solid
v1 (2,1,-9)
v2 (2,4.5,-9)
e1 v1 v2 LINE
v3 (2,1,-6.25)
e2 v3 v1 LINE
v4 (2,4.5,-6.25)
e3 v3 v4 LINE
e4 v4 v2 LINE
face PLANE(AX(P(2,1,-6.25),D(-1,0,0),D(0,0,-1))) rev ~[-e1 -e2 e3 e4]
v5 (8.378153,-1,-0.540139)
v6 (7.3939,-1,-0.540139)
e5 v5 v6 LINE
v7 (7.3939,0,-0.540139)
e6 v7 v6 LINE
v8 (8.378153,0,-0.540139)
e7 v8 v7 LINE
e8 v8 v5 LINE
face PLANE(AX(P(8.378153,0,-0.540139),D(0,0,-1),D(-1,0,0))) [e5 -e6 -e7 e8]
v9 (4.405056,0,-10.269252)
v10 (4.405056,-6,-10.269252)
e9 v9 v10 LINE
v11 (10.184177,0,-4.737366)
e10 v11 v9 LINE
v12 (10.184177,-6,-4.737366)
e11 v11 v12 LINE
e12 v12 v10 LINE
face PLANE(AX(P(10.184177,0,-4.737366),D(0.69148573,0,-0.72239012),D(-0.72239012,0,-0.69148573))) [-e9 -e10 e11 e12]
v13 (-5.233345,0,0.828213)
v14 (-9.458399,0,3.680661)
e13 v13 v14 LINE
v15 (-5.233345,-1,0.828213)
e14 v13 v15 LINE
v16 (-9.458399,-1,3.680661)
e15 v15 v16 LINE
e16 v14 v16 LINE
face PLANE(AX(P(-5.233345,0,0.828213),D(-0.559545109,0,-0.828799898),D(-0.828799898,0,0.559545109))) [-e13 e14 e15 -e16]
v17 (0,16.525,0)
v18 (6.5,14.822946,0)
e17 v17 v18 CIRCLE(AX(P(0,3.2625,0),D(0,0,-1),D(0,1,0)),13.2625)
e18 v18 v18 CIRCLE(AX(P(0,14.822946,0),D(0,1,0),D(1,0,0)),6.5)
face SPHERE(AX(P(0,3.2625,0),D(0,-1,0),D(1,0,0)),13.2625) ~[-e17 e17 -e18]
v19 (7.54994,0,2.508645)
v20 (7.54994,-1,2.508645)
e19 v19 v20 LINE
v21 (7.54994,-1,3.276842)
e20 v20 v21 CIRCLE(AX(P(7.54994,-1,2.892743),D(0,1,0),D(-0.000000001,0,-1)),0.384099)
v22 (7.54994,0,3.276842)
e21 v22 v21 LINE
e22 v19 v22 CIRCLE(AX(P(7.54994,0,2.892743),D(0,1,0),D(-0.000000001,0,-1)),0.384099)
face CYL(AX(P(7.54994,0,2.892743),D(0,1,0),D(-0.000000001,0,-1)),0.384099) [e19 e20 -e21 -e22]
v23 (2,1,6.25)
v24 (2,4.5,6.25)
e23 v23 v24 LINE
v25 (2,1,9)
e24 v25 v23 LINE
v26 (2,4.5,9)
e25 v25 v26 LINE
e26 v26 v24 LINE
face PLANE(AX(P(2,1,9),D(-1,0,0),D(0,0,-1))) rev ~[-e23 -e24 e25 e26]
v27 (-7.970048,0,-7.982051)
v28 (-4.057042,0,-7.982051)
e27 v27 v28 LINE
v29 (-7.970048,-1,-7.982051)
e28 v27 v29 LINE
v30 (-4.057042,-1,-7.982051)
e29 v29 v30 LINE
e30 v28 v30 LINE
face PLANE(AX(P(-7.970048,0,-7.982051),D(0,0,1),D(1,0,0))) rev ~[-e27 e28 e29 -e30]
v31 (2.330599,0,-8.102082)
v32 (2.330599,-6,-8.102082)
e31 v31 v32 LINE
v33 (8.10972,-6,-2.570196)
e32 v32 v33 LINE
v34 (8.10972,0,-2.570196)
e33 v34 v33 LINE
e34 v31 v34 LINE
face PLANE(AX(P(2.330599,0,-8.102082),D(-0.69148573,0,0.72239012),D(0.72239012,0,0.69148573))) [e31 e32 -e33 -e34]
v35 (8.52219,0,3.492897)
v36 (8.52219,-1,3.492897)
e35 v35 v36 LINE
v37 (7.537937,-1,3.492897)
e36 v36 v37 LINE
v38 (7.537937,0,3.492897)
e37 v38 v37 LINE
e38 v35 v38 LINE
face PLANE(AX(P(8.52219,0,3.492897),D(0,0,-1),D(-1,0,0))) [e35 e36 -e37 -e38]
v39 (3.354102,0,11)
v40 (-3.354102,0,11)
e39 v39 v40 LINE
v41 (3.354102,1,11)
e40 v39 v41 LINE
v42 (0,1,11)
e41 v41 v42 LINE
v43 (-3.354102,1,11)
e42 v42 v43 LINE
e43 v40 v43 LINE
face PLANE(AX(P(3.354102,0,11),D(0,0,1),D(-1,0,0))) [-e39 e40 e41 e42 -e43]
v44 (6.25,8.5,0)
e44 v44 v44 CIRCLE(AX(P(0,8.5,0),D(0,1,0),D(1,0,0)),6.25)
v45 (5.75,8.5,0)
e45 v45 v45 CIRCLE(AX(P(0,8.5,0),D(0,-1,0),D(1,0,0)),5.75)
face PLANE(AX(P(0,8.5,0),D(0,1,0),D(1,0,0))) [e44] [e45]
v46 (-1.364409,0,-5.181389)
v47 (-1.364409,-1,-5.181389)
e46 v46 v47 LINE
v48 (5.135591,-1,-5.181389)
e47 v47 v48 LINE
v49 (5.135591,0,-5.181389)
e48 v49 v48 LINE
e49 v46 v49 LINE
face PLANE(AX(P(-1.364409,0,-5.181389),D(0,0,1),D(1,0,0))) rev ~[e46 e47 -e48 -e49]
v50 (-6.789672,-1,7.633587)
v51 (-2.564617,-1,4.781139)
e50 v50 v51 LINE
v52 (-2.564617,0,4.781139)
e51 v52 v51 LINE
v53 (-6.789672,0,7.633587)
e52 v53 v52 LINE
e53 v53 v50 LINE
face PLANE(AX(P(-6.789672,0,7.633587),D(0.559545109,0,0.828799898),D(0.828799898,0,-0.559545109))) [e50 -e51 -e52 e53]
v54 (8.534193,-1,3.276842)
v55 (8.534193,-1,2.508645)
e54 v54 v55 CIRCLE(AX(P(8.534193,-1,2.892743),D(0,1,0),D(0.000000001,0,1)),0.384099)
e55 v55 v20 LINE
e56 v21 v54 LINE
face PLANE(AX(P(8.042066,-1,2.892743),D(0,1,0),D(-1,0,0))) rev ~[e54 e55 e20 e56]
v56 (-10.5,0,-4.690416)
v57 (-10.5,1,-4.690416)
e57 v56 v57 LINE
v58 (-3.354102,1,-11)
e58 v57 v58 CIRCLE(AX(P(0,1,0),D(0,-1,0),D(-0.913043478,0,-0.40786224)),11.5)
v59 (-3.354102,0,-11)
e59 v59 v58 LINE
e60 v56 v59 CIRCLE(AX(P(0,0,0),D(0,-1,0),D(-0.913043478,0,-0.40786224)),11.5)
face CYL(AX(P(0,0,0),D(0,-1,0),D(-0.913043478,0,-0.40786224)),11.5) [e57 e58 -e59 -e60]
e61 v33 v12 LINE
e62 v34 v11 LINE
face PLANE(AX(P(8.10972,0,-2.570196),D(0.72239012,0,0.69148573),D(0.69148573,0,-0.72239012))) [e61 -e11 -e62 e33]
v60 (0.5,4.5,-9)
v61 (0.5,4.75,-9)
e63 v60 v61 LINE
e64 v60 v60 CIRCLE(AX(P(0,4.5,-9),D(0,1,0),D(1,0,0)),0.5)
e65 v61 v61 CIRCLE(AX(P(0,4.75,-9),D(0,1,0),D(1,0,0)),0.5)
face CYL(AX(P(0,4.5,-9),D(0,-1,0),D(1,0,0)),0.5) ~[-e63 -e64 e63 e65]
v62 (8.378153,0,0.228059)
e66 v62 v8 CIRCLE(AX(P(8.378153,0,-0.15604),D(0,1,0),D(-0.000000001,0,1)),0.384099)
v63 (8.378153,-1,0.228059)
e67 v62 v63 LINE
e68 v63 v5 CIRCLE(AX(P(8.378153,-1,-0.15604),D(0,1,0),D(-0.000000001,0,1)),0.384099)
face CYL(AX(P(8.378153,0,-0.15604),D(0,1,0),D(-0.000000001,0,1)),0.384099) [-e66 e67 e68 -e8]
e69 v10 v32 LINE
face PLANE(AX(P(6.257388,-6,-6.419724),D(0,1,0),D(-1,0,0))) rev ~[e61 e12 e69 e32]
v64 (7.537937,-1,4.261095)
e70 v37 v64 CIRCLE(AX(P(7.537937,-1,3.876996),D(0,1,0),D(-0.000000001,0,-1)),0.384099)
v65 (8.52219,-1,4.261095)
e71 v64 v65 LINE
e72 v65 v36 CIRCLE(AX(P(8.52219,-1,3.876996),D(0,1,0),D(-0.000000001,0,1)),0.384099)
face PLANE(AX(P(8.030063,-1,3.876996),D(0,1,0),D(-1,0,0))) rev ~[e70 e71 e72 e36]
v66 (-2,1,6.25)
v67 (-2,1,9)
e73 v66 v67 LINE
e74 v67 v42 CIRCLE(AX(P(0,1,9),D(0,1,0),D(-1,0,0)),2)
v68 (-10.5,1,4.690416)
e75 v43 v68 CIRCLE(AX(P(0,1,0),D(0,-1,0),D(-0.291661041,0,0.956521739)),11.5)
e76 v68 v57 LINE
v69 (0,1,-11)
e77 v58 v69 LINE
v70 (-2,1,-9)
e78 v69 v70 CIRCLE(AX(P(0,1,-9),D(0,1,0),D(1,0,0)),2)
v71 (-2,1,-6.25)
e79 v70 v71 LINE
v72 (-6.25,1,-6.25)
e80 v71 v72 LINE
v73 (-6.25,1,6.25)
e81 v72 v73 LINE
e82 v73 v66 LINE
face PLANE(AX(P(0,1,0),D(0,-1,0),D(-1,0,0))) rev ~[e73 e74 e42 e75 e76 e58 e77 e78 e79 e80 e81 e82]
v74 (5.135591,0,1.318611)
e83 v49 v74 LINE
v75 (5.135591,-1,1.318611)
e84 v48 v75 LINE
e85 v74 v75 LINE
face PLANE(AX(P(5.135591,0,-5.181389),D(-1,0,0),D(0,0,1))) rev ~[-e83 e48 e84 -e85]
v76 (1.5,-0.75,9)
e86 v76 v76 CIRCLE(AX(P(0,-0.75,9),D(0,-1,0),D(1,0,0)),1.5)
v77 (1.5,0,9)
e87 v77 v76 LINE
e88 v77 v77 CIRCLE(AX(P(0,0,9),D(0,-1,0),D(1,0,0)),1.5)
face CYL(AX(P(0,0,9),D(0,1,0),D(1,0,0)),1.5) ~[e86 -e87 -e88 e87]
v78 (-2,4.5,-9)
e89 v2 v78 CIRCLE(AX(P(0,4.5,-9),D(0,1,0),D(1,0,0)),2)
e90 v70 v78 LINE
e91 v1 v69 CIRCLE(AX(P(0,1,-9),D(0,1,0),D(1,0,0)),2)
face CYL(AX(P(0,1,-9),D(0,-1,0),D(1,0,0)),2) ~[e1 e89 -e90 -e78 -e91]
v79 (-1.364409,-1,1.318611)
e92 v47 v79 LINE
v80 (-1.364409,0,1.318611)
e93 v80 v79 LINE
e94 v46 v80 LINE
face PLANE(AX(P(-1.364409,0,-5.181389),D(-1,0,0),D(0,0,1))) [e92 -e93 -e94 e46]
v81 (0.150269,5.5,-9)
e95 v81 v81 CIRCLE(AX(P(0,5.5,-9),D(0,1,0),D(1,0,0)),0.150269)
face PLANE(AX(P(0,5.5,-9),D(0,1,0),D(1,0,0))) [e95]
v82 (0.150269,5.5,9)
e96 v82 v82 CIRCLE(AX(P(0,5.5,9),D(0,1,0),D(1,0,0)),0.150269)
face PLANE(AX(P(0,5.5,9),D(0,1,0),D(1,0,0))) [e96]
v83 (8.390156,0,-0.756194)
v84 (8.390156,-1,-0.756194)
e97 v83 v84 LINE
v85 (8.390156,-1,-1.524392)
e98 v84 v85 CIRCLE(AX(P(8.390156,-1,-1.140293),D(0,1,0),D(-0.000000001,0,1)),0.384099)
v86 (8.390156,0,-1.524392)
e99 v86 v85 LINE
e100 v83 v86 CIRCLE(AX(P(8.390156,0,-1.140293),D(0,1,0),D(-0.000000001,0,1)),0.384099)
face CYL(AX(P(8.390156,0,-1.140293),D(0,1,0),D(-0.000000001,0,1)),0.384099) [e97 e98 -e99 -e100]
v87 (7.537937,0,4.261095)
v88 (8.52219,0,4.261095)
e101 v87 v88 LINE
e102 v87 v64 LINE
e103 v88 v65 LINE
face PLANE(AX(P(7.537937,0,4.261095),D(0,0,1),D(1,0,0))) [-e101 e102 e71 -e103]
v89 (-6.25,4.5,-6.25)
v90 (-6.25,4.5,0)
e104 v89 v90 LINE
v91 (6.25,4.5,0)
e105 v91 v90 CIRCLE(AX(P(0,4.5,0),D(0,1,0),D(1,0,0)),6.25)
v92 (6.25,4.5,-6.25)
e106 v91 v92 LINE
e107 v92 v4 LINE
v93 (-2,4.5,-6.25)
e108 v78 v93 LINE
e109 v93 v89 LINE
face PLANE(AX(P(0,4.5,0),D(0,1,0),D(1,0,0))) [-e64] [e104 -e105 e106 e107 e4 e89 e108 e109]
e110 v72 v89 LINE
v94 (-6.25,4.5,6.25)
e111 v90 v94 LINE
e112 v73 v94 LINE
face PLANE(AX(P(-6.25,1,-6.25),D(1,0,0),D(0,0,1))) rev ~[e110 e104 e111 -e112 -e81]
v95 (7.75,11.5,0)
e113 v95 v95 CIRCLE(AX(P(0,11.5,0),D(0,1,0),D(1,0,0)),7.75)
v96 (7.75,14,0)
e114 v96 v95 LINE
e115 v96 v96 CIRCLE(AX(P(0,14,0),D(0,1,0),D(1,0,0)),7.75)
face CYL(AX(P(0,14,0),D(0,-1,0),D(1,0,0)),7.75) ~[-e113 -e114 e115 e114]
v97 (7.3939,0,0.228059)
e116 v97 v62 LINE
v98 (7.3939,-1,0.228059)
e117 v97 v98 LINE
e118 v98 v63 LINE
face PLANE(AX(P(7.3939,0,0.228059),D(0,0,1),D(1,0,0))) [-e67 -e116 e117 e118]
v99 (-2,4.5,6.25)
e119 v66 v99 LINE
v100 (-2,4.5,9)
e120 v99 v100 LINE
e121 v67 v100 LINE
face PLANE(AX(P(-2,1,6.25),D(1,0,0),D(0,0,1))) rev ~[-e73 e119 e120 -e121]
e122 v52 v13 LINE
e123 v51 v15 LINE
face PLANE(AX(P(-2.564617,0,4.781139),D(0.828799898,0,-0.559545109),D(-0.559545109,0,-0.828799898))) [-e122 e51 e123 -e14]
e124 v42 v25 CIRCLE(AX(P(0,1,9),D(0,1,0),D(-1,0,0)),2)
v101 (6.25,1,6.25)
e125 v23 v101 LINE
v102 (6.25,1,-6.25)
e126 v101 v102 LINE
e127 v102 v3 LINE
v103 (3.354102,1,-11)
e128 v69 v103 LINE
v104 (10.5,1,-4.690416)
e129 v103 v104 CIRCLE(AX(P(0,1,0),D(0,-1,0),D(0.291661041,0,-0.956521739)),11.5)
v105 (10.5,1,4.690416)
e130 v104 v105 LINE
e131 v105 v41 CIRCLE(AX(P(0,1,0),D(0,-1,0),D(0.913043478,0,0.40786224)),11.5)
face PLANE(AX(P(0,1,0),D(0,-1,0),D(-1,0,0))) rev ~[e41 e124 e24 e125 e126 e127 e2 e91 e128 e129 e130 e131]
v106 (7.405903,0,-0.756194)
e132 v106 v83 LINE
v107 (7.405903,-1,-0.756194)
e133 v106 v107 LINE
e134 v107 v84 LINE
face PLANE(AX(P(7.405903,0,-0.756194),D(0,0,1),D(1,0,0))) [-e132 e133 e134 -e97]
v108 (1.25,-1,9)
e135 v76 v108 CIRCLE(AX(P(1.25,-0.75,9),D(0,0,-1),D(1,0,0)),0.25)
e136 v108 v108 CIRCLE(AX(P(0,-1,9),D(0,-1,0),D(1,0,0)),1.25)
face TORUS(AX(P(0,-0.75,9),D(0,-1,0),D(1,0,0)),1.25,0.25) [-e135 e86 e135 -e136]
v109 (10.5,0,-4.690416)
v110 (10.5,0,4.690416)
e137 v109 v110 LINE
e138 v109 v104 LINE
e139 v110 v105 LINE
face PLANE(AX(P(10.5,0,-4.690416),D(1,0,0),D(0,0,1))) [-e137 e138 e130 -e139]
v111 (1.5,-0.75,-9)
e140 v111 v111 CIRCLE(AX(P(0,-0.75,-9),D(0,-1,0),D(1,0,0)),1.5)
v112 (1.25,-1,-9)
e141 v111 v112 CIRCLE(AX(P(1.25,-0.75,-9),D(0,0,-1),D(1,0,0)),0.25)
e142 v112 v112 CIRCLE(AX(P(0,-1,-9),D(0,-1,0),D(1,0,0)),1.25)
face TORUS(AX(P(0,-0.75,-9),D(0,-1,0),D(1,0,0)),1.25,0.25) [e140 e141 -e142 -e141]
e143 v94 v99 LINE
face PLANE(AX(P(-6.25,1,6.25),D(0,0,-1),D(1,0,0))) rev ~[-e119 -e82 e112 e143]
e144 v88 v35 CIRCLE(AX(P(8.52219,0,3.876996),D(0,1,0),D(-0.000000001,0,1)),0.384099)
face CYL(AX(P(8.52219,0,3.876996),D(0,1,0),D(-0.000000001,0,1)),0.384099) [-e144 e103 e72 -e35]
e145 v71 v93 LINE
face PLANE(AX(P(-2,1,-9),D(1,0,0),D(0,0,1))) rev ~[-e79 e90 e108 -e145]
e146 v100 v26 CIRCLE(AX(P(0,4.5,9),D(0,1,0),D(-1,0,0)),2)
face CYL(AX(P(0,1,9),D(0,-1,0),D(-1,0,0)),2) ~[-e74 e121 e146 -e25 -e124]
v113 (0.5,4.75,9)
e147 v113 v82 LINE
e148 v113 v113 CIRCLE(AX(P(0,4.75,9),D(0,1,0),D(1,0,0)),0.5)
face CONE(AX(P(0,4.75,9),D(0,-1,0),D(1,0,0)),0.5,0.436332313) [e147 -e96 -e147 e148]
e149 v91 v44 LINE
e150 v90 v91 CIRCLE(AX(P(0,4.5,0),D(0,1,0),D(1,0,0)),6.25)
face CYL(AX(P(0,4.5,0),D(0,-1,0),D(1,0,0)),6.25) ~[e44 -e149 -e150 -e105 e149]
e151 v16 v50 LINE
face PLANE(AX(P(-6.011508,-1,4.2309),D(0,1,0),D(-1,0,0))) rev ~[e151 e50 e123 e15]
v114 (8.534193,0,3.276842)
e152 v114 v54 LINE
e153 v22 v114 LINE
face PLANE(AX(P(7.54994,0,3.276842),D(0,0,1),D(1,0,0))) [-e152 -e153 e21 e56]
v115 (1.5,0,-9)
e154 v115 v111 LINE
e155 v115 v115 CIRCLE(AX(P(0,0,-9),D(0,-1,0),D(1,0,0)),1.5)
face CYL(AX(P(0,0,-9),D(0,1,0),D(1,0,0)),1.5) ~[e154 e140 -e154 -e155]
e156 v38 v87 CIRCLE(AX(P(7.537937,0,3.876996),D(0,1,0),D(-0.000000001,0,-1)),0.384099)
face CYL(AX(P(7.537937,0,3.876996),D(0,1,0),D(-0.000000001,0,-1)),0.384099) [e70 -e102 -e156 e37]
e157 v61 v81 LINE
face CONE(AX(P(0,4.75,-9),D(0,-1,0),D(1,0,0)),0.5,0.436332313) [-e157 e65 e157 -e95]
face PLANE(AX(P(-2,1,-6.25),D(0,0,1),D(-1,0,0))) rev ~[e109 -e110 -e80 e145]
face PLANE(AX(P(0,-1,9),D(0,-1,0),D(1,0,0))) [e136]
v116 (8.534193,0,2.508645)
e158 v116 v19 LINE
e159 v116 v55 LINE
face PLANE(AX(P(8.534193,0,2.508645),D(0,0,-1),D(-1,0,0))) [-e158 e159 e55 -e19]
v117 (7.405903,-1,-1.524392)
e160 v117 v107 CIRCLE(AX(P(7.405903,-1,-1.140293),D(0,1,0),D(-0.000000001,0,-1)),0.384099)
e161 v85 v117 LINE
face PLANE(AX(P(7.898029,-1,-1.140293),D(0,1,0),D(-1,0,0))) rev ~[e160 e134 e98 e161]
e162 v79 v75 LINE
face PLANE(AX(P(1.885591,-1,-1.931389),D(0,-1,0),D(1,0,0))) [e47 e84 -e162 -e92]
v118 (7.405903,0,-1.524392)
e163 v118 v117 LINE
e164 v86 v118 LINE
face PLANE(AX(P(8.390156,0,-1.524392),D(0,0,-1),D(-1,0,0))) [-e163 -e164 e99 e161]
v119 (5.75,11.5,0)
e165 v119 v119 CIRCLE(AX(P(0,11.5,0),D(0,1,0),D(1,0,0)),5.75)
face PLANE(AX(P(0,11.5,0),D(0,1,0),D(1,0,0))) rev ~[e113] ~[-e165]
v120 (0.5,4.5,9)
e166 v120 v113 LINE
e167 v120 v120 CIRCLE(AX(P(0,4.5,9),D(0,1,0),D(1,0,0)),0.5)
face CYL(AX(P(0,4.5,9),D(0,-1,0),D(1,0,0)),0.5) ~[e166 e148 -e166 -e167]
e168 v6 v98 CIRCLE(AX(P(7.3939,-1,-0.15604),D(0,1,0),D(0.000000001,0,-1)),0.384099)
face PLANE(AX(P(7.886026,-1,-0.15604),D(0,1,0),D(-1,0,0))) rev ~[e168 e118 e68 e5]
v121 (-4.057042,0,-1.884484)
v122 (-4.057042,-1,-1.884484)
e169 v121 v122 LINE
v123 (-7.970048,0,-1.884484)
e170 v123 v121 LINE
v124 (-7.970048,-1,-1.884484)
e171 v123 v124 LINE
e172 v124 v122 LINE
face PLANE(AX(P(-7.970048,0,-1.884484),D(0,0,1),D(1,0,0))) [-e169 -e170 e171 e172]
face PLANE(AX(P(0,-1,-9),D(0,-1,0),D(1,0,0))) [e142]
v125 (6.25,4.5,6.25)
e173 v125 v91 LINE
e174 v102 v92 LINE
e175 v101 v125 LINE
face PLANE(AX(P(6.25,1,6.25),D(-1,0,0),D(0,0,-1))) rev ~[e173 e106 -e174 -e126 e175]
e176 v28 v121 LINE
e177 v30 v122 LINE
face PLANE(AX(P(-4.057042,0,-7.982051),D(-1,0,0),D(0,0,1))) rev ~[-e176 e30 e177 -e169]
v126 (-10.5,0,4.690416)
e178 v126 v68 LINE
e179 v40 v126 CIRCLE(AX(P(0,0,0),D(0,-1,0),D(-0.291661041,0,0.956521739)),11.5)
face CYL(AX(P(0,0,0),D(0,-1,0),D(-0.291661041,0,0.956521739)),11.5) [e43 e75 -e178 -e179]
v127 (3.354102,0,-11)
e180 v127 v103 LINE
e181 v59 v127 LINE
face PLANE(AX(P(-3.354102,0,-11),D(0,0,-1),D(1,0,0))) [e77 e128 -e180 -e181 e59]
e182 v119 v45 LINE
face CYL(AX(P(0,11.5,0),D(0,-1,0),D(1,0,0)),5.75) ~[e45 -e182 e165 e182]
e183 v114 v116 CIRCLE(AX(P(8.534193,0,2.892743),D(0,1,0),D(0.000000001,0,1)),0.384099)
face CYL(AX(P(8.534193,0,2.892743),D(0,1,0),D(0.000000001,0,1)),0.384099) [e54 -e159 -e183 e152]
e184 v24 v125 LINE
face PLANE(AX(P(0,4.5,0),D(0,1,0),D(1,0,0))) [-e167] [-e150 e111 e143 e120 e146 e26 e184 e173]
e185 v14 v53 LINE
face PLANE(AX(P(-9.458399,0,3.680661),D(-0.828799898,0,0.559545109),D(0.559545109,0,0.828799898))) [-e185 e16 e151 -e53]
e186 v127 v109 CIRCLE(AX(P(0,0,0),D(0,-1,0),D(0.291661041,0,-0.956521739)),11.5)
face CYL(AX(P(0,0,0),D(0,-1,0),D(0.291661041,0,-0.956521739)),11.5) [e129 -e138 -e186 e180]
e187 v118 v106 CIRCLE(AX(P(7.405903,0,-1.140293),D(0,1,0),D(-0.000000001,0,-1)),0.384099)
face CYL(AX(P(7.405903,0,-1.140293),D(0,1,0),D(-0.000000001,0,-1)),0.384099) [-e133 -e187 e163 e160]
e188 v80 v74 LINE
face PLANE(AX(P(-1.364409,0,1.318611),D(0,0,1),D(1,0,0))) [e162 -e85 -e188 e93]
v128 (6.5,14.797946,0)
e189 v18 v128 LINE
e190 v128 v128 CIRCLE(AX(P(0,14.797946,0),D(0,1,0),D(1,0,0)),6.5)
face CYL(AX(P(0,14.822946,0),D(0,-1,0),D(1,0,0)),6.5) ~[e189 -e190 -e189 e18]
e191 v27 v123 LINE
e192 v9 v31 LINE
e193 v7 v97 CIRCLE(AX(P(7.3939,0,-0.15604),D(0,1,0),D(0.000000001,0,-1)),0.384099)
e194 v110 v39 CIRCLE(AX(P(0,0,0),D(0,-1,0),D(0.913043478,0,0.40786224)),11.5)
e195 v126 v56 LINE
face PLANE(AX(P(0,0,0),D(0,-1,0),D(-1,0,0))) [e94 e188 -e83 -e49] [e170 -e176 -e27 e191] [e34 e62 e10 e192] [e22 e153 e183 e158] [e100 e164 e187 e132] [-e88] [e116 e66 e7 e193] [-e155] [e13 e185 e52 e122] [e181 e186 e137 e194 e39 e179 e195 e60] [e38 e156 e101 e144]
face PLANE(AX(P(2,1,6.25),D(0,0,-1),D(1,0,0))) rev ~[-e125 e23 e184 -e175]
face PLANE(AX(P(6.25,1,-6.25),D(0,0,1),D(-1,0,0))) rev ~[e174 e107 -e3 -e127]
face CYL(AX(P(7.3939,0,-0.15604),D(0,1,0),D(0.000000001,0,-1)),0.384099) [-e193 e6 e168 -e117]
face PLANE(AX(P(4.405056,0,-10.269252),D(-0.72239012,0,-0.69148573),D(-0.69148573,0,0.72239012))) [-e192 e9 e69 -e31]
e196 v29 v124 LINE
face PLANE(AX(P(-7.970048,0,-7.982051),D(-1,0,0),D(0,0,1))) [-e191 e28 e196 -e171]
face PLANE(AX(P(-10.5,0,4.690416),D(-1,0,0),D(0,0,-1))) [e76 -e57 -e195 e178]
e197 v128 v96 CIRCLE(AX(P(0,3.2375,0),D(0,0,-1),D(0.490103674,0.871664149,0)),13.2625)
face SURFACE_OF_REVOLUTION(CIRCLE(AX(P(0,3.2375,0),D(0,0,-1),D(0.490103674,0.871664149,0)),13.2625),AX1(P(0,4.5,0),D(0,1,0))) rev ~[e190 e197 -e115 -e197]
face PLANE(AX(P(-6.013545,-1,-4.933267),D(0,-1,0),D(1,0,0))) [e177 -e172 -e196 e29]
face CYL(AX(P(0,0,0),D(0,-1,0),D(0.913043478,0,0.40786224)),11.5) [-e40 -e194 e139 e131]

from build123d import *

# Parameters (mm, degrees)
BOSS_EXTRUDE1_DEPTH   = 1
BOSS_EXTRUDE2_DEPTH   = 6
SKETCH4_R             = 1.5
SKETCH4_W             = 6.5
SKETCH4_H             = 6.5
SKETCH4_W_2           = 3.913005348
SKETCH4_H_2           = 6.097566615
BOSS_EXTRUDE6_DEPTH   = 1
FILLET1_R             = 0.25
BOSS_EXTRUDE7_DEPTH   = 3.5
SKETCH6_R             = 6.25
BOSS_EXTRUDE8_DEPTH   = 4
SKETCH7_R             = 0.5
BOSS_EXTRUDE9_DEPTH   = 1
CHAMFER1_SIZE         = 0.75
CHAMFER1_SIZE2        = 0.349730744
CHAMFER1_PART_2_SIZE  = 0.75
CHAMFER1_PART_2_SIZE2 = 0.349730744


with BuildPart() as part:
    # Sketch1 → Boss-Extrude1 (new body)
    with BuildSketch(Plane(origin=(0, 0, 0), x_dir=(1, 0, 0), z_dir=(0, 1, 0))):
        with BuildLine():
            Line((-3.354101966, 11), (3.354101966, 11))
            ThreePointArc((3.354101966, 11), (7.611619318, 8.620513404), (10.5, 4.69041576))
            Line((10.5, 4.69041576), (10.5, -4.69041576))
            ThreePointArc((10.5, -4.69041576), (7.611619318, -8.620513404), (3.354101966, -11))
            Line((3.354101966, -11), (-3.354101966, -11))
            ThreePointArc((-3.354101966, -11), (-7.611619318, -8.620513404), (-10.5, -4.69041576))
            Line((-10.5, -4.69041576), (-10.5, 4.69041576))
            ThreePointArc((-10.5, 4.69041576), (-7.611619318, 8.620513404), (-3.354101966, 11))
        make_face()
    extrude(amount=BOSS_EXTRUDE1_DEPTH)

    # Sketch2 → Boss-Extrude2 (add)
    with BuildSketch(Plane.XZ):
        Polygon((8.109719748, -2.570195786), (10.184176938, -4.737366146), (4.405055978, -10.269251985), (2.330598788, -8.102081625), align=None)
    extrude(amount=BOSS_EXTRUDE2_DEPTH)

    # Sketch4 → Boss-Extrude6 (add)
    with BuildSketch(Plane.XZ):
        with Locations((0, -9)):
            Circle(SKETCH4_R)
        with Locations((0, 9)):
            Circle(SKETCH4_R)
        with Locations((1.885591241, -1.931388967)):
            Rectangle(SKETCH4_W, SKETCH4_H)
        Polygon((-6.789671936, 7.633587439), (-2.564617425, 4.781139469), (-5.233344576, 0.828212788), (-9.458399087, 3.680660758), align=None)
        with Locations((-6.013545028, -4.933267479)):
            Rectangle(SKETCH4_W_2, SKETCH4_H_2)
        with BuildLine():
            Line((7.537936682, 4.261094781), (8.522189561, 4.261094781))
            ThreePointArc((8.522189561, 4.261094781), (8.906288246, 3.876996096), (8.522189561, 3.492897412))
            Line((8.522189561, 3.492897412), (7.537936682, 3.492897412))
            ThreePointArc((7.537936682, 3.492897412), (7.153837998, 3.876996096), (7.537936682, 4.261094781))
        make_face()
        with BuildLine():
            Line((7.549939766, 3.276841902), (8.534192645, 3.276841902))
            ThreePointArc((8.534192645, 3.276841902), (8.918291329, 2.892743217), (8.534192645, 2.508644533))
            Line((8.534192645, 2.508644533), (7.549939766, 2.508644533))
            ThreePointArc((7.549939766, 2.508644533), (7.165841082, 2.892743217), (7.549939766, 3.276841902))
        make_face()
        with BuildLine():
            Line((7.393899676, 0.228058594), (8.378152554, 0.228058594))
            ThreePointArc((8.378152554, 0.228058594), (8.762251239, -0.156040091), (8.378152554, -0.540138775))
            Line((8.378152554, -0.540138775), (7.393899676, -0.540138775))
            ThreePointArc((7.393899676, -0.540138775), (7.009800991, -0.156040091), (7.393899676, 0.228058594))
        make_face()
        with BuildLine():
            Line((7.405902759, -0.756194285), (8.390155638, -0.756194285))
            ThreePointArc((8.390155638, -0.756194285), (8.774254323, -1.140292969), (8.390155638, -1.524391654))
            Line((8.390155638, -1.524391654), (7.405902759, -1.524391654))
            ThreePointArc((7.405902759, -1.524391654), (7.021804075, -1.140292969), (7.405902759, -0.756194285))
        make_face()
    extrude(amount=BOSS_EXTRUDE6_DEPTH)

    # Fillet1
    fillet1_edges = [part.edges().sort_by_distance(p)[0] for p in [
        (-1.5, -1, -9),
        (-1.5, -1, 9),
    ]]
    fillet(fillet1_edges, radius=FILLET1_R)

    # Sketch5 → Boss-Extrude7 (add)
    with BuildSketch(Plane(origin=(0, 1, 0), x_dir=(1, 0, 0), z_dir=(0, 1, 0))):
        with BuildLine():
            Line((-2, -6.25), (-2, -9))
            ThreePointArc((-2, -9), (0, -11), (2, -9))
            Line((2, -9), (2, -6.25))
            Line((2, -6.25), (6.25, -6.25))
            Line((6.25, -6.25), (6.25, 6.25))
            Line((6.25, 6.25), (2, 6.25))
            Line((2, 6.25), (2, 9))
            ThreePointArc((2, 9), (0, 11), (-2, 9))
            Line((-2, 9), (-2, 6.25))
            Line((-2, 6.25), (-6.25, 6.25))
            Line((-6.25, 6.25), (-6.25, -6.25))
            Line((-6.25, -6.25), (-2, -6.25))
        make_face()
    extrude(amount=BOSS_EXTRUDE7_DEPTH)

    # Sketch6 → Boss-Extrude8 (add)
    with BuildSketch(Plane(origin=(0, 4.5, 0), x_dir=(1, 0, 0), z_dir=(0, 1, 0))):
        Circle(SKETCH6_R)
    extrude(amount=BOSS_EXTRUDE8_DEPTH)

    # Sketch7 → Boss-Extrude9 (add)
    with BuildSketch(Plane(origin=(0, 4.5, 0), x_dir=(1, 0, 0), z_dir=(0, 1, 0))):
        with Locations((0, 9)):
            Circle(SKETCH7_R)
        with Locations((0, -9)):
            Circle(SKETCH7_R)
    extrude(amount=BOSS_EXTRUDE9_DEPTH)

    # Chamfer1
    chamfer1_edges = [part.edges().sort_by_distance(p)[0] for p in [
        (-0.5, 5.5, -9),
    ]]
    chamfer1_side = [part.faces().sort_by_distance(p)[0] for p in [
        (-0.5, 5, -9),
    ]]
    chamfer(chamfer1_edges, length=CHAMFER1_SIZE, length2=CHAMFER1_SIZE2, reference=chamfer1_side[0])

    # Chamfer1 part 2
    chamfer1_part_2_edges = [part.edges().sort_by_distance(p)[0] for p in [
        (-0.5, 5.5, 9),
    ]]
    chamfer1_part_2_side = [part.faces().sort_by_distance(p)[0] for p in [
        (-0.5, 5, 9),
    ]]
    chamfer(chamfer1_part_2_edges, length=CHAMFER1_PART_2_SIZE, length2=CHAMFER1_PART_2_SIZE2, reference=chamfer1_part_2_side[0])

    # Sketch8 → Revolve1 (revolve)
    with BuildSketch(Plane.XY):
        with BuildLine():
            Line((0, 4.5), (0, 16.5))
            Line((0, 16.5), (0, 16.525))
            ThreePointArc((0, 16.525), (3.359575443, 16.092432155), (6.5, 14.822945763))
            Line((6.5, 14.822945763), (6.5, 14.797945763))
            ThreePointArc((6.5, 14.797945763), (7.136161739, 14.416457997), (7.75, 14))
            Line((7.75, 14), (7.75, 11.5))
            Line((7.75, 11.5), (5.75, 11.5))
            Line((5.75, 11.5), (5.75, 4.5))
            Line((5.75, 4.5), (0, 4.5))
        make_face()
    revolve(axis=Axis((0, 4.5, 0), (0, 1, 0)))


solid = part.part
